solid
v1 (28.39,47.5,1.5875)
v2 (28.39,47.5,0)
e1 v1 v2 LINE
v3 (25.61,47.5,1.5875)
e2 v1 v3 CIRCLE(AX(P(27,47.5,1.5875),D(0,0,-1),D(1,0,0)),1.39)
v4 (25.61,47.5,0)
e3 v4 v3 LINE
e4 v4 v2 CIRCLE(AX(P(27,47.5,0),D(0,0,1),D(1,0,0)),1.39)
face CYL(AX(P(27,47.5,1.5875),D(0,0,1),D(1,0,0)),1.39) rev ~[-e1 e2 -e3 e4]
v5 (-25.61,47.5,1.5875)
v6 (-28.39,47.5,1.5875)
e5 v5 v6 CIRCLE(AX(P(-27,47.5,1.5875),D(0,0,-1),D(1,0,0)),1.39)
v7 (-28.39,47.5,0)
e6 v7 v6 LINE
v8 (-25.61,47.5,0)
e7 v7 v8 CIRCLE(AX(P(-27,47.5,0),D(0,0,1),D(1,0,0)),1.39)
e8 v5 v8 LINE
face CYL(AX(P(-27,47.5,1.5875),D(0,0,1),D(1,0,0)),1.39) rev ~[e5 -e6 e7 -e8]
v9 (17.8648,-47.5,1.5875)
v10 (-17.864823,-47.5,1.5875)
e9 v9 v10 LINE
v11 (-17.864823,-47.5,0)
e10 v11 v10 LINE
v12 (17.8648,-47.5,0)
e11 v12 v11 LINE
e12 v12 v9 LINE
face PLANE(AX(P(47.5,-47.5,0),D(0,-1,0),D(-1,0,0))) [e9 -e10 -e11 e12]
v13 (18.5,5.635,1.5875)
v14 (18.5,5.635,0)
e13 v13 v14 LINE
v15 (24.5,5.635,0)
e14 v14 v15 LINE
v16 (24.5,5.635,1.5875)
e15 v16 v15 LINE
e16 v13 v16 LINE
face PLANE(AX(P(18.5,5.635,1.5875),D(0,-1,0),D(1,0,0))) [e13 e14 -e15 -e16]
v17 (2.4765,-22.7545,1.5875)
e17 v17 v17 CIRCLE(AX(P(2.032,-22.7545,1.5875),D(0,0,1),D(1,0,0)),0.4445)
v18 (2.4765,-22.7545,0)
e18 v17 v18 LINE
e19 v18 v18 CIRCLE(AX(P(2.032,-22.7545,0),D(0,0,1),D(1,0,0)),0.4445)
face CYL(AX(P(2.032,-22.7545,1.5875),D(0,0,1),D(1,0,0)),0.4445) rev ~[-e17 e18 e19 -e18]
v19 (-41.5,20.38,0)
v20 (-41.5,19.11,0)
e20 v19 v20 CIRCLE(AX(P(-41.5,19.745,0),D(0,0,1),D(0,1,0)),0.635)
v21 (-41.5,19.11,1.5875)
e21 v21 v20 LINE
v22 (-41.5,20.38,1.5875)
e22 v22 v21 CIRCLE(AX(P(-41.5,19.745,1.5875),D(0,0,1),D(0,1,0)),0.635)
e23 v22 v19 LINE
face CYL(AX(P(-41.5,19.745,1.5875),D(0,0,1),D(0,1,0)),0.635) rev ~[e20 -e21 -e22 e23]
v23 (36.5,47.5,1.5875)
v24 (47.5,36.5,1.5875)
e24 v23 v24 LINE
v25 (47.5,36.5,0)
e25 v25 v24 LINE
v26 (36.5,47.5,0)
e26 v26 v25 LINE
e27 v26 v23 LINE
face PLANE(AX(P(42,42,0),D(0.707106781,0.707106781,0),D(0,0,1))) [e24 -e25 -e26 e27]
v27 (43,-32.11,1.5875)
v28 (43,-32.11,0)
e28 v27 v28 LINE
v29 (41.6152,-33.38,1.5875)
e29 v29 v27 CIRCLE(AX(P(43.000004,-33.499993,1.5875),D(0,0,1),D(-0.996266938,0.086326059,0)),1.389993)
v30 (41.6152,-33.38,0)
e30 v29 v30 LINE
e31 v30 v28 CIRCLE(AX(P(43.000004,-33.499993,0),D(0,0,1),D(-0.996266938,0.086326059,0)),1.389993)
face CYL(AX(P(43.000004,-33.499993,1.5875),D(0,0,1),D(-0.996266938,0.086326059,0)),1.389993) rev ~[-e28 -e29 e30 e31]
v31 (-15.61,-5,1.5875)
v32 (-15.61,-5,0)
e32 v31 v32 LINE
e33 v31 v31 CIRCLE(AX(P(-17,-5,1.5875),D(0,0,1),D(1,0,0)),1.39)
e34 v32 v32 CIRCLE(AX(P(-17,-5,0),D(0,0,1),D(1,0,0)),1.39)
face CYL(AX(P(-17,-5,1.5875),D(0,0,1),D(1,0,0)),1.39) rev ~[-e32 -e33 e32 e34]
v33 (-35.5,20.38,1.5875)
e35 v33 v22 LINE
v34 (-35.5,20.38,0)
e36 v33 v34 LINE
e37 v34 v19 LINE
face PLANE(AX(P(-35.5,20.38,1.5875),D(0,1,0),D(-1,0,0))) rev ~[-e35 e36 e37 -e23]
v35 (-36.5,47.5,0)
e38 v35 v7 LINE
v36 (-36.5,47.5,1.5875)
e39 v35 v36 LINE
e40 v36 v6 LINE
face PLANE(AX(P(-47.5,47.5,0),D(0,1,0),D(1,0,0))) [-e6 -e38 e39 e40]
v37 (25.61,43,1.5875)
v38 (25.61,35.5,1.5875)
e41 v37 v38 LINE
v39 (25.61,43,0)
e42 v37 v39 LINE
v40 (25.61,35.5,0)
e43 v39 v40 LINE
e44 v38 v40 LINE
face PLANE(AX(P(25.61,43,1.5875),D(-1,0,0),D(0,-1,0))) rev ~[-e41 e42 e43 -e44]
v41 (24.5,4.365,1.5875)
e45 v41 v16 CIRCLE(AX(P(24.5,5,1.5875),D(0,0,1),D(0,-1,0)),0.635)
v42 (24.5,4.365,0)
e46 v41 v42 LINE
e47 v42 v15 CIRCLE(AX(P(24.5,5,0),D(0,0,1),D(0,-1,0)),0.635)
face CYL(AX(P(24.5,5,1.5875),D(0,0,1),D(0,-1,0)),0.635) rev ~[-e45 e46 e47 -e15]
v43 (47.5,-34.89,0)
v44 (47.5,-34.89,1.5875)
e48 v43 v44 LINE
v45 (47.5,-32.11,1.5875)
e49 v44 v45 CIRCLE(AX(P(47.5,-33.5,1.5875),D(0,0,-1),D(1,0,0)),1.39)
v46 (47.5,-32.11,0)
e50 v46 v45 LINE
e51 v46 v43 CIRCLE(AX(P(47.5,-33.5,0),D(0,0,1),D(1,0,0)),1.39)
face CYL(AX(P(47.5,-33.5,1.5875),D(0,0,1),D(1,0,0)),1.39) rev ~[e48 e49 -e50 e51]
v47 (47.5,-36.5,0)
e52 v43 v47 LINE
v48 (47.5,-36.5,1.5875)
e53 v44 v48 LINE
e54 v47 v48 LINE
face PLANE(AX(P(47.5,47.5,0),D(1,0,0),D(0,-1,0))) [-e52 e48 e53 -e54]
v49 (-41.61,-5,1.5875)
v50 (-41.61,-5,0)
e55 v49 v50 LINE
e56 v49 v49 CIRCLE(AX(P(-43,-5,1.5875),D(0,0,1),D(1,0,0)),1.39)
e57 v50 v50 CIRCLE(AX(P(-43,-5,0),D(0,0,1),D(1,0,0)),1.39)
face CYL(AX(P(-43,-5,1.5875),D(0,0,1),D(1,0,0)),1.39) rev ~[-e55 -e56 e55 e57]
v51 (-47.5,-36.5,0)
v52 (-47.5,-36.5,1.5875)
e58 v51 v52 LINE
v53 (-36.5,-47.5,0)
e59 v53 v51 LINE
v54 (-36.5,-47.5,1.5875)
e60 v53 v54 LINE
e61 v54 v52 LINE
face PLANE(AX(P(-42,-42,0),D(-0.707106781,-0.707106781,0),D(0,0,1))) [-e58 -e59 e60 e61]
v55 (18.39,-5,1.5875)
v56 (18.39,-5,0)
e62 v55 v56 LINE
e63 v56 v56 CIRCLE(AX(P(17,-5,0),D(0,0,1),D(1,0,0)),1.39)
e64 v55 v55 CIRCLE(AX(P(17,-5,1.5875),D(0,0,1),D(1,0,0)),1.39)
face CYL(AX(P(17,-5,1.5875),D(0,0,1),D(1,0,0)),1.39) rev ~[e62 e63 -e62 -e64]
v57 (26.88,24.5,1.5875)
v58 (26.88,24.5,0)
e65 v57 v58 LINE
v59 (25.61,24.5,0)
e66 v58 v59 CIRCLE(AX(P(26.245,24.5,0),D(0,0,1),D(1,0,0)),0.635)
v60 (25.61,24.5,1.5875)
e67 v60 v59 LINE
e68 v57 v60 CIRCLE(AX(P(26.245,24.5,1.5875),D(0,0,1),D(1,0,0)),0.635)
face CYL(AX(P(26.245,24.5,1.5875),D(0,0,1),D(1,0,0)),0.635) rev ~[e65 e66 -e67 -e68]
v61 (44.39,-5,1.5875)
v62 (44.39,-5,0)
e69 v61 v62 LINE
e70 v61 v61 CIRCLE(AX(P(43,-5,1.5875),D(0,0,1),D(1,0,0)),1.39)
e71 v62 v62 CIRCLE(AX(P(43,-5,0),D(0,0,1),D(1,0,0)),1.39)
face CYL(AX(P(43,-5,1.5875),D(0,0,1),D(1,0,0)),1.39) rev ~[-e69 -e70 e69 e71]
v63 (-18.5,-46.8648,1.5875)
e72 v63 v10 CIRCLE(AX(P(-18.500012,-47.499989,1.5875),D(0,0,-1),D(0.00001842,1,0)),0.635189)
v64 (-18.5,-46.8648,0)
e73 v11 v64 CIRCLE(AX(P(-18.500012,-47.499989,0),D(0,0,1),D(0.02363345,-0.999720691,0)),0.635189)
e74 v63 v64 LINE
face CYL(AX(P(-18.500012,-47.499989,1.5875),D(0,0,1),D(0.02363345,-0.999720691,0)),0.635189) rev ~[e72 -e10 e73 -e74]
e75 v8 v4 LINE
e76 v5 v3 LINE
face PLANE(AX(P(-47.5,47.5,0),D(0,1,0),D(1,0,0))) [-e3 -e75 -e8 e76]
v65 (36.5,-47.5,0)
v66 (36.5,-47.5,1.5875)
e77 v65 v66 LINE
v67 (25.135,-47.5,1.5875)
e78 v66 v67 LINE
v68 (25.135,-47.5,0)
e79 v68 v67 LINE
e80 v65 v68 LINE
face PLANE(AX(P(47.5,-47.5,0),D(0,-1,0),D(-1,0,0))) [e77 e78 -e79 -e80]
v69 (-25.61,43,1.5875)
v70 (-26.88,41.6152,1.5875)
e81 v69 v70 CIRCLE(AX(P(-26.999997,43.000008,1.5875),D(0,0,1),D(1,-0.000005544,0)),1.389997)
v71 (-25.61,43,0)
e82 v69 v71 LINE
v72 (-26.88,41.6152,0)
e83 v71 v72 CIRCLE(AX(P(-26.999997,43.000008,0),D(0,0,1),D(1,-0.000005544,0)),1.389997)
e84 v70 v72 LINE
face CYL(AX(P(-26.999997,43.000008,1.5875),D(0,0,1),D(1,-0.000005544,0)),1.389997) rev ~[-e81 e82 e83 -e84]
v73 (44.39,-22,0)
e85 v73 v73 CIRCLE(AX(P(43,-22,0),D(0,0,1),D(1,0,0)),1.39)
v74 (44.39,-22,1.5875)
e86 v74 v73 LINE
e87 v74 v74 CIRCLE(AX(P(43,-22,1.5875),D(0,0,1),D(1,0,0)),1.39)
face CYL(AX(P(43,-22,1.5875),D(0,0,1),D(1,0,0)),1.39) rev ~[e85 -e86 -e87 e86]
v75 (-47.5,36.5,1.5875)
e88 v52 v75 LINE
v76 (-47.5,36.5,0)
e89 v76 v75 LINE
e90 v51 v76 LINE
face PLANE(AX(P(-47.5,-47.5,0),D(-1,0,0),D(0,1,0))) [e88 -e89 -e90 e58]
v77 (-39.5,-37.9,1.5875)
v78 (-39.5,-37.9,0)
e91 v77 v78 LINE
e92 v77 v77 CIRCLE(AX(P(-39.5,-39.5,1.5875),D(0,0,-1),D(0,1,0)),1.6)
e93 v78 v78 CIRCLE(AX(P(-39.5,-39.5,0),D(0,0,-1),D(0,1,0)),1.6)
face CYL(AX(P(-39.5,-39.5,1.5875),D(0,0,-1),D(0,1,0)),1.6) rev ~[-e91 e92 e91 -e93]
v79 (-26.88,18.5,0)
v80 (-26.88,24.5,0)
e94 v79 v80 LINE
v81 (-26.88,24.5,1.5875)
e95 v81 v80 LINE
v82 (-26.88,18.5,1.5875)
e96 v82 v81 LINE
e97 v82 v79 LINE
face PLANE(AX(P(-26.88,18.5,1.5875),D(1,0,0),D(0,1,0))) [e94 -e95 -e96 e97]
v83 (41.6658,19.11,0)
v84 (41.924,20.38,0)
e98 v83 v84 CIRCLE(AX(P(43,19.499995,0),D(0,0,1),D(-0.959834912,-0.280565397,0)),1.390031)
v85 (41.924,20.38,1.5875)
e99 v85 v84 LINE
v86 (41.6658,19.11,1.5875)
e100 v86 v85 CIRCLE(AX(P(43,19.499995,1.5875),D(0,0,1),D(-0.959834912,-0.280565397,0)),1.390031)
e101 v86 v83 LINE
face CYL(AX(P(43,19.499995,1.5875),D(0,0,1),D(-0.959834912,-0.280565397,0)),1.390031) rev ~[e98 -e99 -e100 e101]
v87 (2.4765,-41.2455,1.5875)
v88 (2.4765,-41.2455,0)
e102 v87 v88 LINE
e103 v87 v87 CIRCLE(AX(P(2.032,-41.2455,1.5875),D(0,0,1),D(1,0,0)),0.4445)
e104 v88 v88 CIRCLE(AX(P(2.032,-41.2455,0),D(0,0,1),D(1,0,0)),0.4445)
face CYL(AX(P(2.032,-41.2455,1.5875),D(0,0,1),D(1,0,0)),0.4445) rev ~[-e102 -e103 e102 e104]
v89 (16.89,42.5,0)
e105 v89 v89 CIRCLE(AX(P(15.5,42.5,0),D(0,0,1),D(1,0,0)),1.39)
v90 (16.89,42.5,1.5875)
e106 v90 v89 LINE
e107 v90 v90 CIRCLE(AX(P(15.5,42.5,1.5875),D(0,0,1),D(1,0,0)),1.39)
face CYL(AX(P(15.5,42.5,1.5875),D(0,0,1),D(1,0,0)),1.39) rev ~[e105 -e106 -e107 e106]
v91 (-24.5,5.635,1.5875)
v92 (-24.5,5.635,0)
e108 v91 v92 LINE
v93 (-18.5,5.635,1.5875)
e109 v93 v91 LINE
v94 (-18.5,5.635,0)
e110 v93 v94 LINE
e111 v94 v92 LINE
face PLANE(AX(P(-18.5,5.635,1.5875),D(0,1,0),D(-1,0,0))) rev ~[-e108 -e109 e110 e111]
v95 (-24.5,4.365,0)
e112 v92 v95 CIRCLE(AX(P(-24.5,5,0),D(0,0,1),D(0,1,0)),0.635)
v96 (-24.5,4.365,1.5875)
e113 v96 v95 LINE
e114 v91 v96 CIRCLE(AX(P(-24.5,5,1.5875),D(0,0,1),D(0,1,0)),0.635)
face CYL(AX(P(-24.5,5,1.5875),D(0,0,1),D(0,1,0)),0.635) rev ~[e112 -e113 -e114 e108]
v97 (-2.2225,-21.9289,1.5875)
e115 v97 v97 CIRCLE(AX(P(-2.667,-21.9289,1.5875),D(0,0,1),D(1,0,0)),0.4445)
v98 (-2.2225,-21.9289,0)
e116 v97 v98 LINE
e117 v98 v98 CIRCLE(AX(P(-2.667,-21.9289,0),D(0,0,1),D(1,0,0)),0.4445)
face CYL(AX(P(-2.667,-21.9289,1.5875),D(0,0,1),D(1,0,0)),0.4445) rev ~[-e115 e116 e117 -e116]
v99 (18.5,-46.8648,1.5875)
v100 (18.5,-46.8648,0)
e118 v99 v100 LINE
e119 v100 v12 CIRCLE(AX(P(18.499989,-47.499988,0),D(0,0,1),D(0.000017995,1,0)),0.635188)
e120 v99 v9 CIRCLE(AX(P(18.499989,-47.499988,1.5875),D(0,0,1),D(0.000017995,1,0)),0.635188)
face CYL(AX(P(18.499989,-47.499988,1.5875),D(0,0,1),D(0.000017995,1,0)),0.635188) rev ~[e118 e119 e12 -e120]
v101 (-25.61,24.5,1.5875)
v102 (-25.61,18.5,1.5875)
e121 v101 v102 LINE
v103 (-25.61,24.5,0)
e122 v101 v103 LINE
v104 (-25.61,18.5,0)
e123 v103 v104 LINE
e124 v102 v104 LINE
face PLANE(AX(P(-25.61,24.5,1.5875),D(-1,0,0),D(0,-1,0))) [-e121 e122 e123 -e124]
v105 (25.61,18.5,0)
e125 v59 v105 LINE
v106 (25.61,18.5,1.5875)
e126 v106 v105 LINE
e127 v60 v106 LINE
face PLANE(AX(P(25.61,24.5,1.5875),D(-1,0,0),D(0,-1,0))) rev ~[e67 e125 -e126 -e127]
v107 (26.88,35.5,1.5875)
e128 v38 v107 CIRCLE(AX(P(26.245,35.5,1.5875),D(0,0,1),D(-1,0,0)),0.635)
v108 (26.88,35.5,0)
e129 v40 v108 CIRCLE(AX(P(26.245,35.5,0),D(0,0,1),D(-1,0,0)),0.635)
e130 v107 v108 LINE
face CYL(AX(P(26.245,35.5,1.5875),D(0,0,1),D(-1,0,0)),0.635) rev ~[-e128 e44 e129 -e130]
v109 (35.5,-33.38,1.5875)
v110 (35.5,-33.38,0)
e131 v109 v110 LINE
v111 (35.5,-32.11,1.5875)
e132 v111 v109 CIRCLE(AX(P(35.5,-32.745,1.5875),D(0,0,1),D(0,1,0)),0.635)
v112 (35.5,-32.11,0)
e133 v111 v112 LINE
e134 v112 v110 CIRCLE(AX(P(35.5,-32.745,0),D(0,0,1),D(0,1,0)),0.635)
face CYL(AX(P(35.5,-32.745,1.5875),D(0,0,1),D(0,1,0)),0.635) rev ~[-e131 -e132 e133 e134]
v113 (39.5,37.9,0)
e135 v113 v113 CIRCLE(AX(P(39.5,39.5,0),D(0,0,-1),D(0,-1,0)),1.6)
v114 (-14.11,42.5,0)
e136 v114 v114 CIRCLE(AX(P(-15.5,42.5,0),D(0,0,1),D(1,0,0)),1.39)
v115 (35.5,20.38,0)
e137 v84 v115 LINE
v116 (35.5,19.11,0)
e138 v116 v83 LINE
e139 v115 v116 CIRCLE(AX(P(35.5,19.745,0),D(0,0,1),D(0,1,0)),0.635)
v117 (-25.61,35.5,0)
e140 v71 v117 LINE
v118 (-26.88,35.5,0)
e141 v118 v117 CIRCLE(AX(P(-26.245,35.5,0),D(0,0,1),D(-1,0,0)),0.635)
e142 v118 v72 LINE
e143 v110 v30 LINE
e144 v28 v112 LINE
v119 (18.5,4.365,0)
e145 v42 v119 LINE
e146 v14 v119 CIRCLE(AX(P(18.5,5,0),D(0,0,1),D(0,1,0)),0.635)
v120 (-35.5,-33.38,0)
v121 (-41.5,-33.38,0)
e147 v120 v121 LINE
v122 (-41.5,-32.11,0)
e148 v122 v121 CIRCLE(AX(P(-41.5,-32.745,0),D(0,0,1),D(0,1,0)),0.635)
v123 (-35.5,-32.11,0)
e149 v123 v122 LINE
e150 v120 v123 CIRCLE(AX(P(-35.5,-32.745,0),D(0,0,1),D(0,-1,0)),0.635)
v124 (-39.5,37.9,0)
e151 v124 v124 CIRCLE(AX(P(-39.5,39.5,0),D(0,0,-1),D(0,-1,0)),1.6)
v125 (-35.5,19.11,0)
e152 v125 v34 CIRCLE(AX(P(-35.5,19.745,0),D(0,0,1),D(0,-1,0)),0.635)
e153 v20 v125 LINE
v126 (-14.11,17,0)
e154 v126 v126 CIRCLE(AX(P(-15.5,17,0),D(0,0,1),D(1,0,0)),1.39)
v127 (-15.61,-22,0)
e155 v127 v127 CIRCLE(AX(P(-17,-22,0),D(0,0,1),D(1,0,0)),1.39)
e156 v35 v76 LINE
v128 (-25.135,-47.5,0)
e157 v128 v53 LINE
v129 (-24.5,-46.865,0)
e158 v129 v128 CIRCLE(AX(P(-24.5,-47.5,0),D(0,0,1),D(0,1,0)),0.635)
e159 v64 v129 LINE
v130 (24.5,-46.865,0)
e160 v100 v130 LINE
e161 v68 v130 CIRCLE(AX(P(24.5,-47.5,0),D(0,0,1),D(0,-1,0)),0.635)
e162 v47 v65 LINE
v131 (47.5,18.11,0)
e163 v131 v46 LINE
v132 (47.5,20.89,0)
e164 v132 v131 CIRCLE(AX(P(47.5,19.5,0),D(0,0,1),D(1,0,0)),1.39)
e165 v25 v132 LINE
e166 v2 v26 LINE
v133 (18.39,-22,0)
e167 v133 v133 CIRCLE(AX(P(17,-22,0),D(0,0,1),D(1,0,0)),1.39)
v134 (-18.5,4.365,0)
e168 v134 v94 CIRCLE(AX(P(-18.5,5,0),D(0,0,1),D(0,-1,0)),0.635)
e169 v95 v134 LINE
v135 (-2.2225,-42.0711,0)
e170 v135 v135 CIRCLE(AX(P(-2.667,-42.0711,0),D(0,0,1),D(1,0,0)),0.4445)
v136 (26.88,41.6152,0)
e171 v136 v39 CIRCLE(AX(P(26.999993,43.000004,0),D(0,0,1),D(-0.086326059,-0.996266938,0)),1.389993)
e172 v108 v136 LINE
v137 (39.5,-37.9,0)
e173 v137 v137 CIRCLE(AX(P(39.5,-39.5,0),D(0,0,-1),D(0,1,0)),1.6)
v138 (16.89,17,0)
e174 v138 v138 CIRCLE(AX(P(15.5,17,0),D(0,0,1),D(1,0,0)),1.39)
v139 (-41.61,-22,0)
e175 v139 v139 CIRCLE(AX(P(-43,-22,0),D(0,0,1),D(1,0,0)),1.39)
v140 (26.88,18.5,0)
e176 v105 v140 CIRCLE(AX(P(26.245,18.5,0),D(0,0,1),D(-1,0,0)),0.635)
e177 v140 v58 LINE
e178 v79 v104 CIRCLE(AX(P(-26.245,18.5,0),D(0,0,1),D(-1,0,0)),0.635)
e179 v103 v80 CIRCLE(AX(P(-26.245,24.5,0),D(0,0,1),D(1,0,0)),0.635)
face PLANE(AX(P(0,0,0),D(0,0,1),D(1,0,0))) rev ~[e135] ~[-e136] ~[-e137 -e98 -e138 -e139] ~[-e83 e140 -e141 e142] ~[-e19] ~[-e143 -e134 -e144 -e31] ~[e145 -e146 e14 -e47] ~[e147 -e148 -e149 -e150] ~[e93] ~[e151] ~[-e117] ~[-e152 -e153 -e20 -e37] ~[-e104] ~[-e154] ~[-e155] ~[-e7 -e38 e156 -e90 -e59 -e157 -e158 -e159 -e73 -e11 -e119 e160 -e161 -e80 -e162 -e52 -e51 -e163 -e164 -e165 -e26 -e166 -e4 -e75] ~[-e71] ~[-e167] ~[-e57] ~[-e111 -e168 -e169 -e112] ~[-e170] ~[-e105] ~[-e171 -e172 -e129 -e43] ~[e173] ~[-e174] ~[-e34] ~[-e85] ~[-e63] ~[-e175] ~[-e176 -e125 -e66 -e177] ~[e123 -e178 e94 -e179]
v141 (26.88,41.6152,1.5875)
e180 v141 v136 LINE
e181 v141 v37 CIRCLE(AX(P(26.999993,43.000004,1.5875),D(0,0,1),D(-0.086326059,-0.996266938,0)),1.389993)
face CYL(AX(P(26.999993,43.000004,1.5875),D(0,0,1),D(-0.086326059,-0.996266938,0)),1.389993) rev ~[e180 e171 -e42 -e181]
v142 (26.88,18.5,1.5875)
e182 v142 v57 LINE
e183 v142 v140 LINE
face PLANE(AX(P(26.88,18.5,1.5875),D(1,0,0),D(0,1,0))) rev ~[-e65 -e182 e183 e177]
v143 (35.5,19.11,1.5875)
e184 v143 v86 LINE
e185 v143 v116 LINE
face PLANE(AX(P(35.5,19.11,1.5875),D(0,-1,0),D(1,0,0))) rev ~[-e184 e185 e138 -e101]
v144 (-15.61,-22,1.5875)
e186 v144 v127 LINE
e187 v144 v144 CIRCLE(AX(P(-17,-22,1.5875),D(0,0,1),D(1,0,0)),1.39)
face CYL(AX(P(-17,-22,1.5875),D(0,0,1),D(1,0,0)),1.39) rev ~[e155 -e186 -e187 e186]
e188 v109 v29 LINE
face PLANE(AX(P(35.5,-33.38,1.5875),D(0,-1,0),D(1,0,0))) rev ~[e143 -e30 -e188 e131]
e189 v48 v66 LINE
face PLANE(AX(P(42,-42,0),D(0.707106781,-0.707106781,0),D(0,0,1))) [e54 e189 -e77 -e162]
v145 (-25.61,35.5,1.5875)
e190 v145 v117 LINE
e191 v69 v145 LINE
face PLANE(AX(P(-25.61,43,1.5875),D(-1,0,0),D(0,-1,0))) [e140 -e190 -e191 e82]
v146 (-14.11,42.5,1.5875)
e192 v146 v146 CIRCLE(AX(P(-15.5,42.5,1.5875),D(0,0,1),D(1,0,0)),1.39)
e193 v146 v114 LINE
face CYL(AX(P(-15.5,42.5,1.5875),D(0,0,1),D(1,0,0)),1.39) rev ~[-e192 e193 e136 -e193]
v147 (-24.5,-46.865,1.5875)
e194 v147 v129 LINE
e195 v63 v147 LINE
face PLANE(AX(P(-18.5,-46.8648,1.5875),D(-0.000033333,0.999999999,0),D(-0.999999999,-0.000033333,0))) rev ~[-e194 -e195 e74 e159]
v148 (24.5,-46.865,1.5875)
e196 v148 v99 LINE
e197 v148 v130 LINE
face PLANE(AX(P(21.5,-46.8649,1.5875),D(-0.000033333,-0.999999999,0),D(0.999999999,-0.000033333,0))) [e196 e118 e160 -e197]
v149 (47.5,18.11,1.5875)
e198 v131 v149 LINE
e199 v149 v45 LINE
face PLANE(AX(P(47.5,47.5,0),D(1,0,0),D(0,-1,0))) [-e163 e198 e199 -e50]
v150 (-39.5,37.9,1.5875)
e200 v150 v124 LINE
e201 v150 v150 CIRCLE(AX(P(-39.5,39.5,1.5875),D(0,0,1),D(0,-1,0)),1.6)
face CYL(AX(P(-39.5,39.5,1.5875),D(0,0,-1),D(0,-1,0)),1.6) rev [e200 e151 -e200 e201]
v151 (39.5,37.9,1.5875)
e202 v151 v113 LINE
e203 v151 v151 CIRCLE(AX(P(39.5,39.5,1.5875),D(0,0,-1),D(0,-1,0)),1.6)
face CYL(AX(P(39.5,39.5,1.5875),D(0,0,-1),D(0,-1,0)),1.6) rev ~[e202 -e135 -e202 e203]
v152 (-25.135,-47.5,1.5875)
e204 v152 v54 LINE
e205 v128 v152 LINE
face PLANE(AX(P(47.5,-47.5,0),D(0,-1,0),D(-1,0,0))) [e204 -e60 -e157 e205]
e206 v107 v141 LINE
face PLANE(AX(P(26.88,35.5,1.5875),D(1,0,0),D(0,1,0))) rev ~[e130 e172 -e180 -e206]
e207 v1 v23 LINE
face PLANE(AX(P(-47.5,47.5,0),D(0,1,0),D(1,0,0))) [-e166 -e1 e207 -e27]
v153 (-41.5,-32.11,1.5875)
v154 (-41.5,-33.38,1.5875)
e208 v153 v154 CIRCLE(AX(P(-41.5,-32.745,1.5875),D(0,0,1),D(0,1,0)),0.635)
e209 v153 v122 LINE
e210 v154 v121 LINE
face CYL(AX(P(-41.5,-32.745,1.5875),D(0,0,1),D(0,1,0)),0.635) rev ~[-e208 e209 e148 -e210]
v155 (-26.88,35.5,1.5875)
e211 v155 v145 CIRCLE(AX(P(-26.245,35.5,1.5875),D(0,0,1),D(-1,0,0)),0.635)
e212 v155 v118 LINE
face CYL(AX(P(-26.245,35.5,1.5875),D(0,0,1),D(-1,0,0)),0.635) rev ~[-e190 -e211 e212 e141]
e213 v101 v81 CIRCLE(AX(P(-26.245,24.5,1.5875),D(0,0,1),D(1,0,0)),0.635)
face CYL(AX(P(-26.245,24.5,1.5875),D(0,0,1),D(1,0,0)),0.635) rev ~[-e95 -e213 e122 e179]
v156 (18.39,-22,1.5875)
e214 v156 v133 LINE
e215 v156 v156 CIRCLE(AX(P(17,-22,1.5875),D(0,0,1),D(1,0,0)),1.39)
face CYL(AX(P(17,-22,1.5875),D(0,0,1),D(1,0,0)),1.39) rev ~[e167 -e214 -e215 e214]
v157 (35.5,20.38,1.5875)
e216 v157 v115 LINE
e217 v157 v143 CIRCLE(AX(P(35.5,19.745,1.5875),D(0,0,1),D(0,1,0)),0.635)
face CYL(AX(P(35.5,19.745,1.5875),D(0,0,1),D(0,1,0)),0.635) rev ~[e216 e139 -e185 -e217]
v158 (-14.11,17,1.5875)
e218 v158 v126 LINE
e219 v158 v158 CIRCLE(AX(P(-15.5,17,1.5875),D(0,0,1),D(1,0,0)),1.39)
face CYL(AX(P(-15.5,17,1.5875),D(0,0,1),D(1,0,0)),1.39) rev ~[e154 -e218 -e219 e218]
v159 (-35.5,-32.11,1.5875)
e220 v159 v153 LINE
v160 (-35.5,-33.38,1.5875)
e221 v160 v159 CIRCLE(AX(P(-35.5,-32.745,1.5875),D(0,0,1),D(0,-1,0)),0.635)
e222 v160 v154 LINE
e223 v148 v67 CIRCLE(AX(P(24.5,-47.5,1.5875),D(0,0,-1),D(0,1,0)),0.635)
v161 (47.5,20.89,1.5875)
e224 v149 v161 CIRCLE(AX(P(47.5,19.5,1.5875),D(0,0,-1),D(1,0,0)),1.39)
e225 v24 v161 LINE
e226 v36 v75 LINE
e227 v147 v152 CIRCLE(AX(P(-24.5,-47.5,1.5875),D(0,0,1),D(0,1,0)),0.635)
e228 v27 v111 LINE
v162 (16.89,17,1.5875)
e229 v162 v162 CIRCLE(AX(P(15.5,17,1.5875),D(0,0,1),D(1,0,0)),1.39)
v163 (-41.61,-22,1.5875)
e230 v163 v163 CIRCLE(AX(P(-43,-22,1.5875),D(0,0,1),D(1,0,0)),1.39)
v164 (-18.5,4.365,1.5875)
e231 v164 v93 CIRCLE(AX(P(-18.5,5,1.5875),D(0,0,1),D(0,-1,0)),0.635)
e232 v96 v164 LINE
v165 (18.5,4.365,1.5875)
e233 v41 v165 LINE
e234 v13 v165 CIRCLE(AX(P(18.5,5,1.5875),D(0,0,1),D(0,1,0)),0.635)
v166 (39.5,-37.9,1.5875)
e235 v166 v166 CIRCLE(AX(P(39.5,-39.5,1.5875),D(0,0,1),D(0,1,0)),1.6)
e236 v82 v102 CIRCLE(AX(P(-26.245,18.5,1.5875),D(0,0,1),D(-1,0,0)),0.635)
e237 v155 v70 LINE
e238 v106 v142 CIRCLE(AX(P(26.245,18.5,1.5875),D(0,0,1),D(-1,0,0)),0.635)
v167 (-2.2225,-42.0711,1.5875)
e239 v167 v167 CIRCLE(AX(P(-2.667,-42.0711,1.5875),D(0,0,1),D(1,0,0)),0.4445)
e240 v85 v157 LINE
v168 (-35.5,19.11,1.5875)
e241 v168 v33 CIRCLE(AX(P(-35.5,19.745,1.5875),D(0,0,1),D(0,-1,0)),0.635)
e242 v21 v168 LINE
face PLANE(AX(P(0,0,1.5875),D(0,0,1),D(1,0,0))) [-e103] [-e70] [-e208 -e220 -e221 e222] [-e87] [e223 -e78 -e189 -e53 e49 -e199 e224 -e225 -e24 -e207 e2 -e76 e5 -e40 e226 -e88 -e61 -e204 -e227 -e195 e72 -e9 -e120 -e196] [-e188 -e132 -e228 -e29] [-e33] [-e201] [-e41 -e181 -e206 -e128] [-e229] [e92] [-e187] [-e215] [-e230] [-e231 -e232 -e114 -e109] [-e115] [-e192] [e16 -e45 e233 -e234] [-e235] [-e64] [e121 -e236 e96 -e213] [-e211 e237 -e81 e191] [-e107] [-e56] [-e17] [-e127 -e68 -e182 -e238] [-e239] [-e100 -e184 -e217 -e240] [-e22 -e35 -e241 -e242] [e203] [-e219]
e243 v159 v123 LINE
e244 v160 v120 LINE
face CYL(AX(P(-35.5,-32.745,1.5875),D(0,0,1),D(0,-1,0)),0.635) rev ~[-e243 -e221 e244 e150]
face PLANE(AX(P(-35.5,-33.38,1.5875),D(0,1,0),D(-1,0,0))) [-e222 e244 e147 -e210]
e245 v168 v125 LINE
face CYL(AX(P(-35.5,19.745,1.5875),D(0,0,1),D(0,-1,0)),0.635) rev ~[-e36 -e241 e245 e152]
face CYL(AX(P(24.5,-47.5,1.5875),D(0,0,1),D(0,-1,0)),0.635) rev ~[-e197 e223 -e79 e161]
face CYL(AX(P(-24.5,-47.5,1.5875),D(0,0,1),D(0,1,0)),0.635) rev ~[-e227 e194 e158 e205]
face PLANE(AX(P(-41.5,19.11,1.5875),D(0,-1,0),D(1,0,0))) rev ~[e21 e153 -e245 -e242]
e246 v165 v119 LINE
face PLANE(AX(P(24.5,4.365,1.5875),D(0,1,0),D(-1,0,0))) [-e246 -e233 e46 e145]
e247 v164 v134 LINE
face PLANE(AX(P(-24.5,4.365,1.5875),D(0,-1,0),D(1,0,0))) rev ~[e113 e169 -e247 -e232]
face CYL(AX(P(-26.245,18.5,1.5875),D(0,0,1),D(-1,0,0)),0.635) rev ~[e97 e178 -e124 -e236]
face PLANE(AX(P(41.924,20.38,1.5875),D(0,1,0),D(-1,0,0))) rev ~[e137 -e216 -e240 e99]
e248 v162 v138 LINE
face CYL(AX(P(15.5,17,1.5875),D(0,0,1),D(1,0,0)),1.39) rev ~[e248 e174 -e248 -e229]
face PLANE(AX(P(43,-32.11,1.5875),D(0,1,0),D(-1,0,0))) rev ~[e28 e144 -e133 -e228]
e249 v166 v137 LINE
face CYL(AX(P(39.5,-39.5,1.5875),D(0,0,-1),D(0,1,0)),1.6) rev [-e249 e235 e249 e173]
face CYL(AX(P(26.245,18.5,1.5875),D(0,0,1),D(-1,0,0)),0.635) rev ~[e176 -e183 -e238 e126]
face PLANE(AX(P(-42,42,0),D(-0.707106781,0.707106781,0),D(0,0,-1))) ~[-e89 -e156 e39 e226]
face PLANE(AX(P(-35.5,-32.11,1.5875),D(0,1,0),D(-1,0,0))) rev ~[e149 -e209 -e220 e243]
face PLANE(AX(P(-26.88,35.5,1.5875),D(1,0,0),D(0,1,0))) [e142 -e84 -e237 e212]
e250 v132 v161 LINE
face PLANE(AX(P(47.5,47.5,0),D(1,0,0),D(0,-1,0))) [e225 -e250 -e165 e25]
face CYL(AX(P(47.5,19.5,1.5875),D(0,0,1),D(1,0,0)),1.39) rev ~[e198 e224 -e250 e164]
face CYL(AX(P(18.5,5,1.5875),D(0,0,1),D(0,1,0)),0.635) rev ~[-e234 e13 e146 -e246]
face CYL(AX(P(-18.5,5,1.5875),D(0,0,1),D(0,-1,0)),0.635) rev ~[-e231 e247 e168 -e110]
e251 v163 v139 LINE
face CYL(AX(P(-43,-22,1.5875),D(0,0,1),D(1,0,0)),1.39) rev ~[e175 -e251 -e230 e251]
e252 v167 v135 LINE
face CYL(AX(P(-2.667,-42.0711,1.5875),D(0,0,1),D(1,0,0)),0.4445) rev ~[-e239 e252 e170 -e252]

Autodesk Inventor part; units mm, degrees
sketch "AL_spacer_contact_Zminus" plane through (0, 0, 0) normal (0, 0, 1) x (1, 0, 0)
  circle A0 centre (39.5, 39.5) radius 3.175
  circle A1 centre (39.5, -39.5) radius 3.175
  circle A2 centre (-39.5, -39.5) radius 3.175
  circle A3 centre (-39.5, 39.5) radius 3.175
  point P0 (0, 0)
  dimension "d228" = 39.5
  dimension "d229" = 39.5
  dimension "d230" = 39.5
  dimension "d231" = 39.5
  dimension "d232" = 39.5
  dimension "d233" = 39.5
  dimension "d234" = 39.5
  dimension "d235" = 39.5
  dimension "d236" = 6.35
sketch "Delrin_stayout_Zminus" plane through (0, 0, 0) normal (0, 0, 1) x (1, 0, 0)
  line L0 (47.5, 39.5) -> (47.5, 31)
  line L1 (47.5, 31) -> (39.5, 31)
  line L2 (39.5, 31) -> (31, 39.5)
  line L3 (31, 39.5) -> (31, 47.5)
  line L4 (31, 47.5) -> (39.5, 47.5)
  line L5 (39.5, 47.5) -> (47.5, 39.5)
  line L6 (-39.5, 47.5) -> (-47.5, 39.5)
  line L7 (-47.5, 39.5) -> (-47.5, 31)
  line L8 (-47.5, 31) -> (-39.5, 31)
  line L9 (-39.5, 31) -> (-31, 39.5)
  line L10 (-31, 39.5) -> (-31, 47.5)
  line L11 (-31, 47.5) -> (-39.5, 47.5)
  line L12 (47.5, -39.5) -> (39.5, -47.5)
  line L13 (39.5, -47.5) -> (31, -47.5)
  line L14 (31, -47.5) -> (31, -39.5)
  line L15 (31, -39.5) -> (39.5, -31)
  line L16 (39.5, -31) -> (47.5, -31)
  line L17 (47.5, -31) -> (47.5, -39.5)
  line L18 (-39.5, -47.5) -> (-47.5, -39.5)
  line L19 (-47.5, -39.5) -> (-47.5, -31)
  line L20 (-47.5, -31) -> (-39.5, -31)
  line L21 (-39.5, -31) -> (-31, -39.5)
  line L22 (-31, -39.5) -> (-31, -47.5)
  line L23 (-31, -47.5) -> (-39.5, -47.5)
  point P0 (0, 0)
  dimension "d243" = 16.5
  dimension "d244" = 8
  dimension "d245" = 8.5
  dimension "d246" = 16.5
  dimension "d247" = 47.5
  dimension "d248" = 47.5
  dimension "d249" = 47.5
  dimension "d250" = 47.5
  dimension "d251" = 47.5
  dimension "d252" = 47.5
  dimension "d253" = 47.5
  dimension "d254" = 47.5
sketch "Nub_stayout_Zminus" plane through (0, 0, 0) normal (0, 0, 1) x (1, 0, 0)
  line L0 (29, 47.5) -> (39.5, 47.5)
  line L1 (39.5, 47.5) -> (47.5, 39.5)
  line L2 (47.5, 39.5) -> (47.5, 29)
  line L3 (47.5, 29) -> (42, 29)
  line L4 (42, 29) -> (42, 40.4125)
  line L5 (40.4125, 42) -> (29, 42)
  line L6 (29, 42) -> (29, 47.5)
  arc A0 (42, 40.4125) -> (40.4125, 42) centre (40.4125, 40.4125) ccw
  line L7 (-29, 47.5) -> (-39.5, 47.5)
  line L8 (-39.5, 47.5) -> (-47.5, 39.5)
  line L9 (-47.5, 39.5) -> (-47.5, 29)
  line L10 (-47.5, 29) -> (-42, 29)
  line L11 (-42, 29) -> (-42, 40.4125)
  line L12 (-40.4125, 42) -> (-29, 42)
  line L13 (-29, 42) -> (-29, 47.5)
  arc A1 (-40.4125, 42) -> (-42, 40.4125) centre (-40.4125, 40.4125) ccw
  line L14 (-47.5, -29) -> (-42, -29)
  line L15 (-42, -29) -> (-42, -40.4125)
  line L16 (-40.4125, -42) -> (-29, -42)
  line L17 (-29, -42) -> (-29, -47.5)
  line L18 (-29, -47.5) -> (-39.5, -47.5)
  line L19 (-39.5, -47.5) -> (-47.5, -39.5)
  line L20 (-47.5, -39.5) -> (-47.5, -29)
  arc A2 (-42, -40.4125) -> (-40.4125, -42) centre (-40.4125, -40.4125) ccw
  line L21 (47.5, -29) -> (42, -29)
  line L22 (42, -29) -> (42, -40.4125)
  line L23 (40.4125, -42) -> (29, -42)
  line L24 (29, -42) -> (29, -47.5)
  line L25 (29, -47.5) -> (39.5, -47.5)
  line L26 (39.5, -47.5) -> (47.5, -39.5)
  line L27 (47.5, -39.5) -> (47.5, -29)
  arc A3 (40.4125, -42) -> (42, -40.4125) centre (40.4125, -40.4125) ccw
  point P0 (0, 0)
  dimension "d255" = 1.5875
  dimension "d256" = 18.5
  dimension "d257" = 8
  dimension "d258" = 5.5
  dimension "d259" = 47.5
  dimension "d260" = 47.5
  dimension "d264" = 1.5875
  dimension "d265" = 47.5
  dimension "d266" = 47.5
  dimension "d267" = 1.5875
  dimension "d268" = 47.5
  dimension "d269" = 47.5
  dimension "d270" = 1.5875
  dimension "d271" = 47.5
  dimension "d272" = 47.5
ref_plane "Zplus_face" through (0, 0, 1.5875) normal (0, 0, 1) x (1, 0, 0)
sketch "AL_spacer_contact_Zplus" plane through (0, 0, 1.5875) normal (0, 0, 1) x (1, 0, 0)
  circle A0 centre (-39.5, 39.5) radius 4
  circle A1 centre (-39.5, -39.5) radius 4
  circle A2 centre (39.5, -39.5) radius 4
  circle A3 centre (39.5, 39.5) radius 4
  point P0 (0, 0)
  dimension "d129" = 39.5
  dimension "d130" = 39.5
  dimension "d131" = 39.5
  dimension "d132" = 39.5
  dimension "d133" = 8
sketch "Delrin_stayout_Zplus" plane through (0, 0, 1.5875) normal (0, 0, 1) x (1, 0, 0)
  line L0 (47.5, -31) -> (47.5, -39.5)
  line L1 (47.5, -39.5) -> (39.5, -47.5)
  line L2 (39.5, -47.5) -> (31, -47.5)
  line L3 (31, -47.5) -> (31, -39.5)
  line L4 (31, -39.5) -> (39.5, -31)
  line L5 (39.5, -31) -> (47.5, -31)
  line L6 (47.5, 31) -> (47.5, 39.5)
  line L7 (47.5, 39.5) -> (39.5, 47.5)
  line L8 (39.5, 47.5) -> (31, 47.5)
  line L9 (31, 47.5) -> (31, 39.5)
  line L10 (31, 39.5) -> (39.5, 31)
  line L11 (39.5, 31) -> (47.5, 31)
  line L12 (-39.5, 47.5) -> (-47.5, 39.5)
  line L13 (-47.5, 39.5) -> (-47.5, 31)
  line L14 (-47.5, 31) -> (-39.5, 31)
  line L15 (-39.5, 31) -> (-31, 39.5)
  line L16 (-31, 39.5) -> (-31, 47.5)
  line L17 (-31, 47.5) -> (-39.5, 47.5)
  line L18 (-47.5, -39.5) -> (-39.5, -47.5)
  line L19 (-39.5, -47.5) -> (-31, -47.5)
  line L20 (-31, -47.5) -> (-31, -39.5)
  line L21 (-31, -39.5) -> (-39.5, -31)
  line L22 (-39.5, -31) -> (-47.5, -31)
  line L23 (-47.5, -31) -> (-47.5, -39.5)
  point P0 (0, 0)
  dimension "d115" = 16.5
  dimension "d116" = 16.5
  dimension "d117" = 8
  dimension "d118" = 8.5
  dimension "d121" = 47.5
  dimension "d122" = 47.5
  dimension "d123" = 47.5
  dimension "d124" = 47.5
  dimension "d125" = 47.5
  dimension "d126" = 47.5
  dimension "d127" = 47.5
  dimension "d128" = 47.5
sketch "Nub_stayout_Zplus" plane through (0, 0, 1.5875) normal (0, 0, 1) x (1, 0, 0)
  line L0 (47.5, 29) -> (42, 29)
  line L1 (42, 29) -> (42, 40.4125)
  line L2 (40.4125, 42) -> (29, 42)
  line L3 (29, 42) -> (29, 47.5)
  arc A0 (42, 40.4125) -> (40.4125, 42) centre (40.4125, 40.4125) ccw
  line L4 (29, 47.5) -> (39.5, 47.5)
  line L5 (39.5, 47.5) -> (47.5, 39.5)
  line L6 (47.5, 39.5) -> (47.5, 29)
  line L7 (-39.5, 47.5) -> (-29, 47.5)
  line L8 (-29, 47.5) -> (-29, 42)
  line L9 (-29, 42) -> (-40.4125, 42)
  line L10 (-42, 40.4125) -> (-42, 29)
  line L11 (-42, 29) -> (-47.5, 29)
  line L12 (-47.5, 29) -> (-47.5, 39.5)
  line L13 (-47.5, 39.5) -> (-39.5, 47.5)
  arc A1 (-40.4125, 42) -> (-42, 40.4125) centre (-40.4125, 40.4125) ccw
  line L14 (-47.5, -29) -> (-47.5, -39.5)
  line L15 (-47.5, -39.5) -> (-39.5, -47.5)
  line L16 (-39.5, -47.5) -> (-29, -47.5)
  line L17 (-29, -47.5) -> (-29, -42)
  line L18 (-29, -42) -> (-40.4125, -42)
  line L19 (-42, -40.4125) -> (-42, -29)
  line L20 (-42, -29) -> (-47.5, -29)
  arc A2 (-42, -40.4125) -> (-40.4125, -42) centre (-40.4125, -40.4125) ccw
  line L21 (29, -47.5) -> (39.5, -47.5)
  line L22 (39.5, -47.5) -> (47.5, -39.5)
  line L23 (47.5, -39.5) -> (47.5, -29)
  line L24 (47.5, -29) -> (42, -29)
  line L25 (42, -29) -> (42, -40.4125)
  line L26 (40.4125, -42) -> (29, -42)
  line L27 (29, -42) -> (29, -47.5)
  arc A3 (40.4125, -42) -> (42, -40.4125) centre (40.4125, -40.4125) ccw
  point P0 (0, 0)
  dimension "d146" = 1.5875
  dimension "d147" = 5.5
  dimension "d149" = 18.5
  dimension "d150" = 8
  dimension "d151" = 47.5
  dimension "d152" = 47.5
  dimension "d153" = 1.5875
  dimension "d154" = 47.5
  dimension "d155" = 47.5
  dimension "d156" = 1.5875
  dimension "d157" = 47.5
  dimension "d158" = 47.5
  dimension "d159" = 1.5875
  dimension "d160" = 47.5
  dimension "d161" = 47.5
sketch "Sketch1" plane through (0, 0, 0) normal (0, 0, 1) x (1, 0, 0)
  line L0 (-47.5, 47.5) -> (47.5, 47.5)
  line L1 (47.5, 47.5) -> (47.5, -47.5)
  line L2 (47.5, -47.5) -> (-47.5, -47.5)
  line L3 (-47.5, -47.5) -> (-47.5, 47.5)
  point P0 (0, 0)
  dimension "d0" = 95
  dimension "d1" = 95
  dimension "d2" = 47.5
  dimension "d3" = 47.5
extrude "Extrusion1" add sketch "Sketch1" along normal blind 1.5875
chamfer "Chamfer2" distance 11 angle 45 4 edges at (-47.5, -47.5, 0.7937) (47.5, -47.5, 0.7937) (47.5, 47.5, 0.7937) (-47.5, 47.5, 0.7937)
ref_plane "Work Plane_ConnX" through (-32, 0, 0) normal (1, 0, 0) x (0, 1, 0)
ref_plane "Work Plane_ConnY" through (0, 0, 0) normal (0, 1, 0) x (-1, 0, 0)
sketch "Sketch9" plane through (0, 0, 1.5875) normal (0, 0, 1) x (1, 0, 0)
  line L0 (47.5, 47.5) -> (47.5, -47.5) projected
  line L1 (58.5598, -32) -> (-58.5598, -32)
  circle A0 centre (-2.667, -21.9289) radius 0.4445
  circle A1 centre (-2.667, -42.0711) radius 0.4445
  line L2 (0, 26.5598) -> (0, -90.5598) construction
  point P0 (0, 0)
  point P1 (0, -32)
  dimension "d134" = 20.1422
  dimension "d136" = 2.667
  dimension "d138" = 0.889
  dimension "d141" = 180
  dimension "d350" = 32
  dimension "d351" = 0
extrude "Holes_Conn_Zminus" cut sketch "Sketch9" against normal through all
sketch "Sketch22" plane through (0, 0, 1.5875) normal (0, 0, 1) x (1, 0, 0)
  line L0 (47.5, 36.5) -> (47.5, -36.5) projected
  line L1 (0, -1.0026) -> (0, -62.9974) construction
  line L2 (62.8115, -32) -> (-62.8115, -32)
  circle A0 centre (2.032, -22.7545) radius 0.4445
  circle A1 centre (2.032, -41.2455) radius 0.4445
  point P0 (0, 0)
  point P1 (0, -32)
  dimension "d282" = 180
  dimension "d283" = 18.491
  dimension "d284" = 0.889
  dimension "d285" = 2.032
  dimension "d352" = 32
  dimension "d353" = 0
extrude "Holes_Conn_Zplus" cut sketch "Sketch22" against normal through all
hole "Hole5" at (39.5, 39.5, 1.5875) direction (0, 0, -1) diameter 3.2 end through all
mirror "Mirror5" about plane through (0, 0, 0) normal (1, 0, 0) of "Hole5"
mirror "Mirror6" about plane through (0, 0, 0) normal (0, 1, 0) of "Hole5", "Mirror5"
sketch "Sketch26" plane through (0, 0, 1.5875) normal (0, 0, 1) x (1, 0, 0)
  line L0 (36.5, -47.5) -> (-36.5, -47.5) projected
  line L1 (47.5, 36.5) -> (47.5, -36.5) projected
  arc A0 (18.5, -46.8648) -> (18.485, -48.135) centre (18.5, -47.5) ccw
  arc A1 (24.5, -48.135) -> (24.5, -46.865) centre (24.5, -47.5) ccw
  line L2 (18.5, -46.8648) -> (24.5, -46.865)
  line L3 (18.485, -48.135) -> (24.5, -48.135)
  line L4 (21.5, -42.7749) -> (21.5, -52.546)
  line L5 (0, 0) -> (0, 16.7398)
  line L6 (-18.5, -46.8648) -> (-24.5, -46.865)
  arc A2 (-18.485, -48.135) -> (-18.5, -46.8648) centre (-18.5, -47.5) ccw
  line L7 (-18.485, -48.135) -> (-24.5, -48.135)
  arc A3 (-24.5, -46.865) -> (-24.5, -48.135) centre (-24.5, -47.5) ccw
  circle A4 centre (17, -39) radius 1.39
  circle A5 centre (17, -22) radius 1.39
  circle A6 centre (17, -5) radius 1.39
  circle A7 centre (26, -39) radius 1.39
  circle A8 centre (24.3, 9) radius 1.39
  circle A9 centre (15.5, 17) radius 1.39
  circle A10 centre (-17, -39) radius 1.39
  circle A11 centre (-17, -22) radius 1.39
  circle A12 centre (-17, -5) radius 1.39
  circle A13 centre (-26, -39) radius 1.39
  circle A14 centre (-24.3, 9) radius 1.39
  circle A15 centre (-15.5, 17) radius 1.39
  circle A16 centre (43, -22) radius 1.39
  circle A17 centre (43, -5) radius 1.39
  circle A18 centre (43, 9) radius 1.39
  circle A19 centre (15.5, 42.5) radius 1.39
  circle A20 centre (-43, -22) radius 1.39
  circle A21 centre (-43, -5) radius 1.39
  circle A22 centre (-43, 9) radius 1.39
  circle A23 centre (-15.5, 42.5) radius 1.39
  circle A24 centre (-27, 47.5) radius 1.39
  circle A25 centre (27, 47.5) radius 1.39
  circle A26 centre (47.5, 19.5) radius 1.39
  circle A27 centre (47.5, -33.5) radius 1.39
  arc A28 (41.6152, -33.38) -> (43, -32.11) centre (43, -33.5) ccw
  arc A29 (-25.61, 43) -> (-26.88, 41.6152) centre (-27, 43) ccw
  arc A30 (26.88, 41.6152) -> (25.61, 43) centre (27, 43) ccw
  line L8 (-36.5, 47.5) -> (36.5, 47.5) projected
  line L9 (43, -32.11) -> (35.5, -32.11)
  line L10 (35.5, -33.38) -> (41.6152, -33.38)
  arc A31 (35.5, -32.11) -> (35.5, -33.38) centre (35.5, -32.745) ccw
  line L11 (41.924, 20.38) -> (35.5, 20.38)
  line L12 (35.5, 19.11) -> (41.6658, 19.11)
  arc A32 (35.5, 20.38) -> (35.5, 19.11) centre (35.5, 19.745) ccw
  line L13 (25.61, 43) -> (25.61, 35.5)
  line L14 (26.88, 35.5) -> (26.88, 41.6152)
  arc A33 (25.61, 35.5) -> (26.88, 35.5) centre (26.245, 35.5) ccw
  line L15 (-25.61, 43) -> (-25.61, 35.5)
  line L16 (-26.88, 35.5) -> (-26.88, 41.6152)
  arc A34 (-26.88, 35.5) -> (-25.61, 35.5) centre (-26.245, 35.5) ccw
  arc A35 (26.88, 24.5) -> (25.61, 24.5) centre (26.245, 24.5) ccw
  arc A36 (25.61, 18.5) -> (26.88, 18.5) centre (26.245, 18.5) ccw
  line L17 (25.61, 24.5) -> (25.61, 18.5)
  line L18 (26.88, 18.5) -> (26.88, 24.5)
  arc A37 (24.5, 4.365) -> (24.5, 5.635) centre (24.5, 5) ccw
  arc A38 (18.5, 5.635) -> (18.5, 4.365) centre (18.5, 5) ccw
  line L19 (18.5, 5.635) -> (24.5, 5.635)
  line L20 (24.5, 4.365) -> (18.5, 4.365)
  arc A39 (-25.61, 24.5) -> (-26.88, 24.5) centre (-26.245, 24.5) ccw
  arc A40 (-26.88, 18.5) -> (-25.61, 18.5) centre (-26.245, 18.5) ccw
  line L21 (-25.61, 24.5) -> (-25.61, 18.5)
  line L22 (-26.88, 18.5) -> (-26.88, 24.5)
  arc A41 (-24.5, 5.635) -> (-24.5, 4.365) centre (-24.5, 5) ccw
  arc A42 (-18.5, 4.365) -> (-18.5, 5.635) centre (-18.5, 5) ccw
  line L23 (-18.5, 5.635) -> (-24.5, 5.635)
  line L24 (-24.5, 4.365) -> (-18.5, 4.365)
  arc A43 (-35.5, 19.11) -> (-35.5, 20.38) centre (-35.5, 19.745) ccw
  line L25 (-35.5, 20.38) -> (-41.5, 20.38)
  line L26 (-41.5, 19.11) -> (-35.5, 19.11)
  arc A44 (-41.5, 20.38) -> (-41.5, 19.11) centre (-41.5, 19.745) ccw
  arc A45 (-35.5, -33.38) -> (-35.5, -32.11) centre (-35.5, -32.745) ccw
  arc A46 (-41.5, -32.11) -> (-41.5, -33.38) centre (-41.5, -32.745) ccw
  line L27 (-35.5, -32.11) -> (-41.5, -32.11)
  line L28 (-35.5, -33.38) -> (-41.5, -33.38)
  arc A47 (41.6658, 19.11) -> (41.924, 20.38) centre (43, 19.5) ccw
  point P0 (21.5, -47.5)
  point P1 (-21.5, -47.5)
  dimension "d373" = 26
  dimension "d452" = 17
  dimension "d453" = 17
  dimension "d454" = 8.5
  dimension "d455" = 9
  dimension "d457" = 14
  dimension "d464" = 4.5
  dimension "d465" = 4.5
  dimension "d468" = 14
  dimension "d469" = 67
  dimension "d470" = 1.27
  dimension "d471" = 12
  dimension "d472" = 20.5
  dimension "d473" = 12
  dimension "d474" = 23
  dimension "d475" = 6
  dimension "d476" = 6
  dimension "d477" = 52.5
  dimension "d479" = 31
  dimension "d480" = 30.5
  dimension "d481" = 5
  dimension "d482" = 0.635
  dimension "d484" = 2.78
extrude "Extrusion11" cut sketch "Sketch26" against normal through all contours A1 L3 L4 L0 | A2 L7 A3 L0 | L0 A3 L6 A2 | L0 L4 L2 A1 | L4 L3 A0 L0 | L0 A0 L2 L4 | A26 L1 | A27 L1 | L1 A27 | L1 A26 | A5 | A6 | A9 | A11 | A12 | A15 | A16 | A17 | A19 | A20 | A21 | A23 | L8 A24 | A24 L8 | A25 L8 | L8 A25 | L10 A31 L9 A28 | L15 A34 L16 A29 | L14 A33 L13 A30 | A47 L12 A32 L11 | L18 A36 L17 A35 | L20 A38 L19 A37 | L21 A40 L22 A39 | L23 A42 L24 A41 | L26 A44 L25 A43 | L28 A46 L27 A45
sketch "Sketch27" plane through (0, 0, 1.5875) normal (0, 0, 1) x (1, 0, 0)
  line L0 (47.5, 36.5) -> (47.5, 20.89) projected
  line L1 (28.39, 47.5) -> (36.5, 47.5) projected
  line L2 (-47.5, -36.5) -> (-47.5, 36.5) projected
  line L3 (-25.135, -47.5) -> (-36.5, -47.5) projected
  line L4 (-47.545, 47.455) -> (47.5, 47.5) construction
  line L5 (47.5, 47.5) -> (47.545, -47.455) construction
  line L6 (47.545, -47.455) -> (-47.5, -47.5) construction
  line L7 (-47.5, -47.5) -> (-47.545, 47.455) construction
  point P0 (0, 0)
decal "Decal1"
sketch "Sketch28" plane through (0, 0, 0) normal (0, 0, -1) x (-1, 0, 0)
  line L0 (47.5, -36.5) -> (47.5, 36.5) projected
  line L1 (36.5, 47.5) -> (28.39, 47.5) projected
  line L2 (-47.5, 18.11) -> (-47.5, -32.11) projected
  line L3 (-36.5, -47.5) -> (-25.135, -47.5) projected
  line L4 (-47.545, 47.455) -> (47.5, 47.5) construction
  line L5 (47.5, 47.5) -> (47.545, -47.455) construction
  line L6 (47.545, -47.455) -> (-47.5, -47.5) construction
  line L7 (-47.5, -47.5) -> (-47.545, 47.455) construction
  point P0 (0, 0)
decal "Decal2"
properties part number "PCB_Batt1" material "FR4"
